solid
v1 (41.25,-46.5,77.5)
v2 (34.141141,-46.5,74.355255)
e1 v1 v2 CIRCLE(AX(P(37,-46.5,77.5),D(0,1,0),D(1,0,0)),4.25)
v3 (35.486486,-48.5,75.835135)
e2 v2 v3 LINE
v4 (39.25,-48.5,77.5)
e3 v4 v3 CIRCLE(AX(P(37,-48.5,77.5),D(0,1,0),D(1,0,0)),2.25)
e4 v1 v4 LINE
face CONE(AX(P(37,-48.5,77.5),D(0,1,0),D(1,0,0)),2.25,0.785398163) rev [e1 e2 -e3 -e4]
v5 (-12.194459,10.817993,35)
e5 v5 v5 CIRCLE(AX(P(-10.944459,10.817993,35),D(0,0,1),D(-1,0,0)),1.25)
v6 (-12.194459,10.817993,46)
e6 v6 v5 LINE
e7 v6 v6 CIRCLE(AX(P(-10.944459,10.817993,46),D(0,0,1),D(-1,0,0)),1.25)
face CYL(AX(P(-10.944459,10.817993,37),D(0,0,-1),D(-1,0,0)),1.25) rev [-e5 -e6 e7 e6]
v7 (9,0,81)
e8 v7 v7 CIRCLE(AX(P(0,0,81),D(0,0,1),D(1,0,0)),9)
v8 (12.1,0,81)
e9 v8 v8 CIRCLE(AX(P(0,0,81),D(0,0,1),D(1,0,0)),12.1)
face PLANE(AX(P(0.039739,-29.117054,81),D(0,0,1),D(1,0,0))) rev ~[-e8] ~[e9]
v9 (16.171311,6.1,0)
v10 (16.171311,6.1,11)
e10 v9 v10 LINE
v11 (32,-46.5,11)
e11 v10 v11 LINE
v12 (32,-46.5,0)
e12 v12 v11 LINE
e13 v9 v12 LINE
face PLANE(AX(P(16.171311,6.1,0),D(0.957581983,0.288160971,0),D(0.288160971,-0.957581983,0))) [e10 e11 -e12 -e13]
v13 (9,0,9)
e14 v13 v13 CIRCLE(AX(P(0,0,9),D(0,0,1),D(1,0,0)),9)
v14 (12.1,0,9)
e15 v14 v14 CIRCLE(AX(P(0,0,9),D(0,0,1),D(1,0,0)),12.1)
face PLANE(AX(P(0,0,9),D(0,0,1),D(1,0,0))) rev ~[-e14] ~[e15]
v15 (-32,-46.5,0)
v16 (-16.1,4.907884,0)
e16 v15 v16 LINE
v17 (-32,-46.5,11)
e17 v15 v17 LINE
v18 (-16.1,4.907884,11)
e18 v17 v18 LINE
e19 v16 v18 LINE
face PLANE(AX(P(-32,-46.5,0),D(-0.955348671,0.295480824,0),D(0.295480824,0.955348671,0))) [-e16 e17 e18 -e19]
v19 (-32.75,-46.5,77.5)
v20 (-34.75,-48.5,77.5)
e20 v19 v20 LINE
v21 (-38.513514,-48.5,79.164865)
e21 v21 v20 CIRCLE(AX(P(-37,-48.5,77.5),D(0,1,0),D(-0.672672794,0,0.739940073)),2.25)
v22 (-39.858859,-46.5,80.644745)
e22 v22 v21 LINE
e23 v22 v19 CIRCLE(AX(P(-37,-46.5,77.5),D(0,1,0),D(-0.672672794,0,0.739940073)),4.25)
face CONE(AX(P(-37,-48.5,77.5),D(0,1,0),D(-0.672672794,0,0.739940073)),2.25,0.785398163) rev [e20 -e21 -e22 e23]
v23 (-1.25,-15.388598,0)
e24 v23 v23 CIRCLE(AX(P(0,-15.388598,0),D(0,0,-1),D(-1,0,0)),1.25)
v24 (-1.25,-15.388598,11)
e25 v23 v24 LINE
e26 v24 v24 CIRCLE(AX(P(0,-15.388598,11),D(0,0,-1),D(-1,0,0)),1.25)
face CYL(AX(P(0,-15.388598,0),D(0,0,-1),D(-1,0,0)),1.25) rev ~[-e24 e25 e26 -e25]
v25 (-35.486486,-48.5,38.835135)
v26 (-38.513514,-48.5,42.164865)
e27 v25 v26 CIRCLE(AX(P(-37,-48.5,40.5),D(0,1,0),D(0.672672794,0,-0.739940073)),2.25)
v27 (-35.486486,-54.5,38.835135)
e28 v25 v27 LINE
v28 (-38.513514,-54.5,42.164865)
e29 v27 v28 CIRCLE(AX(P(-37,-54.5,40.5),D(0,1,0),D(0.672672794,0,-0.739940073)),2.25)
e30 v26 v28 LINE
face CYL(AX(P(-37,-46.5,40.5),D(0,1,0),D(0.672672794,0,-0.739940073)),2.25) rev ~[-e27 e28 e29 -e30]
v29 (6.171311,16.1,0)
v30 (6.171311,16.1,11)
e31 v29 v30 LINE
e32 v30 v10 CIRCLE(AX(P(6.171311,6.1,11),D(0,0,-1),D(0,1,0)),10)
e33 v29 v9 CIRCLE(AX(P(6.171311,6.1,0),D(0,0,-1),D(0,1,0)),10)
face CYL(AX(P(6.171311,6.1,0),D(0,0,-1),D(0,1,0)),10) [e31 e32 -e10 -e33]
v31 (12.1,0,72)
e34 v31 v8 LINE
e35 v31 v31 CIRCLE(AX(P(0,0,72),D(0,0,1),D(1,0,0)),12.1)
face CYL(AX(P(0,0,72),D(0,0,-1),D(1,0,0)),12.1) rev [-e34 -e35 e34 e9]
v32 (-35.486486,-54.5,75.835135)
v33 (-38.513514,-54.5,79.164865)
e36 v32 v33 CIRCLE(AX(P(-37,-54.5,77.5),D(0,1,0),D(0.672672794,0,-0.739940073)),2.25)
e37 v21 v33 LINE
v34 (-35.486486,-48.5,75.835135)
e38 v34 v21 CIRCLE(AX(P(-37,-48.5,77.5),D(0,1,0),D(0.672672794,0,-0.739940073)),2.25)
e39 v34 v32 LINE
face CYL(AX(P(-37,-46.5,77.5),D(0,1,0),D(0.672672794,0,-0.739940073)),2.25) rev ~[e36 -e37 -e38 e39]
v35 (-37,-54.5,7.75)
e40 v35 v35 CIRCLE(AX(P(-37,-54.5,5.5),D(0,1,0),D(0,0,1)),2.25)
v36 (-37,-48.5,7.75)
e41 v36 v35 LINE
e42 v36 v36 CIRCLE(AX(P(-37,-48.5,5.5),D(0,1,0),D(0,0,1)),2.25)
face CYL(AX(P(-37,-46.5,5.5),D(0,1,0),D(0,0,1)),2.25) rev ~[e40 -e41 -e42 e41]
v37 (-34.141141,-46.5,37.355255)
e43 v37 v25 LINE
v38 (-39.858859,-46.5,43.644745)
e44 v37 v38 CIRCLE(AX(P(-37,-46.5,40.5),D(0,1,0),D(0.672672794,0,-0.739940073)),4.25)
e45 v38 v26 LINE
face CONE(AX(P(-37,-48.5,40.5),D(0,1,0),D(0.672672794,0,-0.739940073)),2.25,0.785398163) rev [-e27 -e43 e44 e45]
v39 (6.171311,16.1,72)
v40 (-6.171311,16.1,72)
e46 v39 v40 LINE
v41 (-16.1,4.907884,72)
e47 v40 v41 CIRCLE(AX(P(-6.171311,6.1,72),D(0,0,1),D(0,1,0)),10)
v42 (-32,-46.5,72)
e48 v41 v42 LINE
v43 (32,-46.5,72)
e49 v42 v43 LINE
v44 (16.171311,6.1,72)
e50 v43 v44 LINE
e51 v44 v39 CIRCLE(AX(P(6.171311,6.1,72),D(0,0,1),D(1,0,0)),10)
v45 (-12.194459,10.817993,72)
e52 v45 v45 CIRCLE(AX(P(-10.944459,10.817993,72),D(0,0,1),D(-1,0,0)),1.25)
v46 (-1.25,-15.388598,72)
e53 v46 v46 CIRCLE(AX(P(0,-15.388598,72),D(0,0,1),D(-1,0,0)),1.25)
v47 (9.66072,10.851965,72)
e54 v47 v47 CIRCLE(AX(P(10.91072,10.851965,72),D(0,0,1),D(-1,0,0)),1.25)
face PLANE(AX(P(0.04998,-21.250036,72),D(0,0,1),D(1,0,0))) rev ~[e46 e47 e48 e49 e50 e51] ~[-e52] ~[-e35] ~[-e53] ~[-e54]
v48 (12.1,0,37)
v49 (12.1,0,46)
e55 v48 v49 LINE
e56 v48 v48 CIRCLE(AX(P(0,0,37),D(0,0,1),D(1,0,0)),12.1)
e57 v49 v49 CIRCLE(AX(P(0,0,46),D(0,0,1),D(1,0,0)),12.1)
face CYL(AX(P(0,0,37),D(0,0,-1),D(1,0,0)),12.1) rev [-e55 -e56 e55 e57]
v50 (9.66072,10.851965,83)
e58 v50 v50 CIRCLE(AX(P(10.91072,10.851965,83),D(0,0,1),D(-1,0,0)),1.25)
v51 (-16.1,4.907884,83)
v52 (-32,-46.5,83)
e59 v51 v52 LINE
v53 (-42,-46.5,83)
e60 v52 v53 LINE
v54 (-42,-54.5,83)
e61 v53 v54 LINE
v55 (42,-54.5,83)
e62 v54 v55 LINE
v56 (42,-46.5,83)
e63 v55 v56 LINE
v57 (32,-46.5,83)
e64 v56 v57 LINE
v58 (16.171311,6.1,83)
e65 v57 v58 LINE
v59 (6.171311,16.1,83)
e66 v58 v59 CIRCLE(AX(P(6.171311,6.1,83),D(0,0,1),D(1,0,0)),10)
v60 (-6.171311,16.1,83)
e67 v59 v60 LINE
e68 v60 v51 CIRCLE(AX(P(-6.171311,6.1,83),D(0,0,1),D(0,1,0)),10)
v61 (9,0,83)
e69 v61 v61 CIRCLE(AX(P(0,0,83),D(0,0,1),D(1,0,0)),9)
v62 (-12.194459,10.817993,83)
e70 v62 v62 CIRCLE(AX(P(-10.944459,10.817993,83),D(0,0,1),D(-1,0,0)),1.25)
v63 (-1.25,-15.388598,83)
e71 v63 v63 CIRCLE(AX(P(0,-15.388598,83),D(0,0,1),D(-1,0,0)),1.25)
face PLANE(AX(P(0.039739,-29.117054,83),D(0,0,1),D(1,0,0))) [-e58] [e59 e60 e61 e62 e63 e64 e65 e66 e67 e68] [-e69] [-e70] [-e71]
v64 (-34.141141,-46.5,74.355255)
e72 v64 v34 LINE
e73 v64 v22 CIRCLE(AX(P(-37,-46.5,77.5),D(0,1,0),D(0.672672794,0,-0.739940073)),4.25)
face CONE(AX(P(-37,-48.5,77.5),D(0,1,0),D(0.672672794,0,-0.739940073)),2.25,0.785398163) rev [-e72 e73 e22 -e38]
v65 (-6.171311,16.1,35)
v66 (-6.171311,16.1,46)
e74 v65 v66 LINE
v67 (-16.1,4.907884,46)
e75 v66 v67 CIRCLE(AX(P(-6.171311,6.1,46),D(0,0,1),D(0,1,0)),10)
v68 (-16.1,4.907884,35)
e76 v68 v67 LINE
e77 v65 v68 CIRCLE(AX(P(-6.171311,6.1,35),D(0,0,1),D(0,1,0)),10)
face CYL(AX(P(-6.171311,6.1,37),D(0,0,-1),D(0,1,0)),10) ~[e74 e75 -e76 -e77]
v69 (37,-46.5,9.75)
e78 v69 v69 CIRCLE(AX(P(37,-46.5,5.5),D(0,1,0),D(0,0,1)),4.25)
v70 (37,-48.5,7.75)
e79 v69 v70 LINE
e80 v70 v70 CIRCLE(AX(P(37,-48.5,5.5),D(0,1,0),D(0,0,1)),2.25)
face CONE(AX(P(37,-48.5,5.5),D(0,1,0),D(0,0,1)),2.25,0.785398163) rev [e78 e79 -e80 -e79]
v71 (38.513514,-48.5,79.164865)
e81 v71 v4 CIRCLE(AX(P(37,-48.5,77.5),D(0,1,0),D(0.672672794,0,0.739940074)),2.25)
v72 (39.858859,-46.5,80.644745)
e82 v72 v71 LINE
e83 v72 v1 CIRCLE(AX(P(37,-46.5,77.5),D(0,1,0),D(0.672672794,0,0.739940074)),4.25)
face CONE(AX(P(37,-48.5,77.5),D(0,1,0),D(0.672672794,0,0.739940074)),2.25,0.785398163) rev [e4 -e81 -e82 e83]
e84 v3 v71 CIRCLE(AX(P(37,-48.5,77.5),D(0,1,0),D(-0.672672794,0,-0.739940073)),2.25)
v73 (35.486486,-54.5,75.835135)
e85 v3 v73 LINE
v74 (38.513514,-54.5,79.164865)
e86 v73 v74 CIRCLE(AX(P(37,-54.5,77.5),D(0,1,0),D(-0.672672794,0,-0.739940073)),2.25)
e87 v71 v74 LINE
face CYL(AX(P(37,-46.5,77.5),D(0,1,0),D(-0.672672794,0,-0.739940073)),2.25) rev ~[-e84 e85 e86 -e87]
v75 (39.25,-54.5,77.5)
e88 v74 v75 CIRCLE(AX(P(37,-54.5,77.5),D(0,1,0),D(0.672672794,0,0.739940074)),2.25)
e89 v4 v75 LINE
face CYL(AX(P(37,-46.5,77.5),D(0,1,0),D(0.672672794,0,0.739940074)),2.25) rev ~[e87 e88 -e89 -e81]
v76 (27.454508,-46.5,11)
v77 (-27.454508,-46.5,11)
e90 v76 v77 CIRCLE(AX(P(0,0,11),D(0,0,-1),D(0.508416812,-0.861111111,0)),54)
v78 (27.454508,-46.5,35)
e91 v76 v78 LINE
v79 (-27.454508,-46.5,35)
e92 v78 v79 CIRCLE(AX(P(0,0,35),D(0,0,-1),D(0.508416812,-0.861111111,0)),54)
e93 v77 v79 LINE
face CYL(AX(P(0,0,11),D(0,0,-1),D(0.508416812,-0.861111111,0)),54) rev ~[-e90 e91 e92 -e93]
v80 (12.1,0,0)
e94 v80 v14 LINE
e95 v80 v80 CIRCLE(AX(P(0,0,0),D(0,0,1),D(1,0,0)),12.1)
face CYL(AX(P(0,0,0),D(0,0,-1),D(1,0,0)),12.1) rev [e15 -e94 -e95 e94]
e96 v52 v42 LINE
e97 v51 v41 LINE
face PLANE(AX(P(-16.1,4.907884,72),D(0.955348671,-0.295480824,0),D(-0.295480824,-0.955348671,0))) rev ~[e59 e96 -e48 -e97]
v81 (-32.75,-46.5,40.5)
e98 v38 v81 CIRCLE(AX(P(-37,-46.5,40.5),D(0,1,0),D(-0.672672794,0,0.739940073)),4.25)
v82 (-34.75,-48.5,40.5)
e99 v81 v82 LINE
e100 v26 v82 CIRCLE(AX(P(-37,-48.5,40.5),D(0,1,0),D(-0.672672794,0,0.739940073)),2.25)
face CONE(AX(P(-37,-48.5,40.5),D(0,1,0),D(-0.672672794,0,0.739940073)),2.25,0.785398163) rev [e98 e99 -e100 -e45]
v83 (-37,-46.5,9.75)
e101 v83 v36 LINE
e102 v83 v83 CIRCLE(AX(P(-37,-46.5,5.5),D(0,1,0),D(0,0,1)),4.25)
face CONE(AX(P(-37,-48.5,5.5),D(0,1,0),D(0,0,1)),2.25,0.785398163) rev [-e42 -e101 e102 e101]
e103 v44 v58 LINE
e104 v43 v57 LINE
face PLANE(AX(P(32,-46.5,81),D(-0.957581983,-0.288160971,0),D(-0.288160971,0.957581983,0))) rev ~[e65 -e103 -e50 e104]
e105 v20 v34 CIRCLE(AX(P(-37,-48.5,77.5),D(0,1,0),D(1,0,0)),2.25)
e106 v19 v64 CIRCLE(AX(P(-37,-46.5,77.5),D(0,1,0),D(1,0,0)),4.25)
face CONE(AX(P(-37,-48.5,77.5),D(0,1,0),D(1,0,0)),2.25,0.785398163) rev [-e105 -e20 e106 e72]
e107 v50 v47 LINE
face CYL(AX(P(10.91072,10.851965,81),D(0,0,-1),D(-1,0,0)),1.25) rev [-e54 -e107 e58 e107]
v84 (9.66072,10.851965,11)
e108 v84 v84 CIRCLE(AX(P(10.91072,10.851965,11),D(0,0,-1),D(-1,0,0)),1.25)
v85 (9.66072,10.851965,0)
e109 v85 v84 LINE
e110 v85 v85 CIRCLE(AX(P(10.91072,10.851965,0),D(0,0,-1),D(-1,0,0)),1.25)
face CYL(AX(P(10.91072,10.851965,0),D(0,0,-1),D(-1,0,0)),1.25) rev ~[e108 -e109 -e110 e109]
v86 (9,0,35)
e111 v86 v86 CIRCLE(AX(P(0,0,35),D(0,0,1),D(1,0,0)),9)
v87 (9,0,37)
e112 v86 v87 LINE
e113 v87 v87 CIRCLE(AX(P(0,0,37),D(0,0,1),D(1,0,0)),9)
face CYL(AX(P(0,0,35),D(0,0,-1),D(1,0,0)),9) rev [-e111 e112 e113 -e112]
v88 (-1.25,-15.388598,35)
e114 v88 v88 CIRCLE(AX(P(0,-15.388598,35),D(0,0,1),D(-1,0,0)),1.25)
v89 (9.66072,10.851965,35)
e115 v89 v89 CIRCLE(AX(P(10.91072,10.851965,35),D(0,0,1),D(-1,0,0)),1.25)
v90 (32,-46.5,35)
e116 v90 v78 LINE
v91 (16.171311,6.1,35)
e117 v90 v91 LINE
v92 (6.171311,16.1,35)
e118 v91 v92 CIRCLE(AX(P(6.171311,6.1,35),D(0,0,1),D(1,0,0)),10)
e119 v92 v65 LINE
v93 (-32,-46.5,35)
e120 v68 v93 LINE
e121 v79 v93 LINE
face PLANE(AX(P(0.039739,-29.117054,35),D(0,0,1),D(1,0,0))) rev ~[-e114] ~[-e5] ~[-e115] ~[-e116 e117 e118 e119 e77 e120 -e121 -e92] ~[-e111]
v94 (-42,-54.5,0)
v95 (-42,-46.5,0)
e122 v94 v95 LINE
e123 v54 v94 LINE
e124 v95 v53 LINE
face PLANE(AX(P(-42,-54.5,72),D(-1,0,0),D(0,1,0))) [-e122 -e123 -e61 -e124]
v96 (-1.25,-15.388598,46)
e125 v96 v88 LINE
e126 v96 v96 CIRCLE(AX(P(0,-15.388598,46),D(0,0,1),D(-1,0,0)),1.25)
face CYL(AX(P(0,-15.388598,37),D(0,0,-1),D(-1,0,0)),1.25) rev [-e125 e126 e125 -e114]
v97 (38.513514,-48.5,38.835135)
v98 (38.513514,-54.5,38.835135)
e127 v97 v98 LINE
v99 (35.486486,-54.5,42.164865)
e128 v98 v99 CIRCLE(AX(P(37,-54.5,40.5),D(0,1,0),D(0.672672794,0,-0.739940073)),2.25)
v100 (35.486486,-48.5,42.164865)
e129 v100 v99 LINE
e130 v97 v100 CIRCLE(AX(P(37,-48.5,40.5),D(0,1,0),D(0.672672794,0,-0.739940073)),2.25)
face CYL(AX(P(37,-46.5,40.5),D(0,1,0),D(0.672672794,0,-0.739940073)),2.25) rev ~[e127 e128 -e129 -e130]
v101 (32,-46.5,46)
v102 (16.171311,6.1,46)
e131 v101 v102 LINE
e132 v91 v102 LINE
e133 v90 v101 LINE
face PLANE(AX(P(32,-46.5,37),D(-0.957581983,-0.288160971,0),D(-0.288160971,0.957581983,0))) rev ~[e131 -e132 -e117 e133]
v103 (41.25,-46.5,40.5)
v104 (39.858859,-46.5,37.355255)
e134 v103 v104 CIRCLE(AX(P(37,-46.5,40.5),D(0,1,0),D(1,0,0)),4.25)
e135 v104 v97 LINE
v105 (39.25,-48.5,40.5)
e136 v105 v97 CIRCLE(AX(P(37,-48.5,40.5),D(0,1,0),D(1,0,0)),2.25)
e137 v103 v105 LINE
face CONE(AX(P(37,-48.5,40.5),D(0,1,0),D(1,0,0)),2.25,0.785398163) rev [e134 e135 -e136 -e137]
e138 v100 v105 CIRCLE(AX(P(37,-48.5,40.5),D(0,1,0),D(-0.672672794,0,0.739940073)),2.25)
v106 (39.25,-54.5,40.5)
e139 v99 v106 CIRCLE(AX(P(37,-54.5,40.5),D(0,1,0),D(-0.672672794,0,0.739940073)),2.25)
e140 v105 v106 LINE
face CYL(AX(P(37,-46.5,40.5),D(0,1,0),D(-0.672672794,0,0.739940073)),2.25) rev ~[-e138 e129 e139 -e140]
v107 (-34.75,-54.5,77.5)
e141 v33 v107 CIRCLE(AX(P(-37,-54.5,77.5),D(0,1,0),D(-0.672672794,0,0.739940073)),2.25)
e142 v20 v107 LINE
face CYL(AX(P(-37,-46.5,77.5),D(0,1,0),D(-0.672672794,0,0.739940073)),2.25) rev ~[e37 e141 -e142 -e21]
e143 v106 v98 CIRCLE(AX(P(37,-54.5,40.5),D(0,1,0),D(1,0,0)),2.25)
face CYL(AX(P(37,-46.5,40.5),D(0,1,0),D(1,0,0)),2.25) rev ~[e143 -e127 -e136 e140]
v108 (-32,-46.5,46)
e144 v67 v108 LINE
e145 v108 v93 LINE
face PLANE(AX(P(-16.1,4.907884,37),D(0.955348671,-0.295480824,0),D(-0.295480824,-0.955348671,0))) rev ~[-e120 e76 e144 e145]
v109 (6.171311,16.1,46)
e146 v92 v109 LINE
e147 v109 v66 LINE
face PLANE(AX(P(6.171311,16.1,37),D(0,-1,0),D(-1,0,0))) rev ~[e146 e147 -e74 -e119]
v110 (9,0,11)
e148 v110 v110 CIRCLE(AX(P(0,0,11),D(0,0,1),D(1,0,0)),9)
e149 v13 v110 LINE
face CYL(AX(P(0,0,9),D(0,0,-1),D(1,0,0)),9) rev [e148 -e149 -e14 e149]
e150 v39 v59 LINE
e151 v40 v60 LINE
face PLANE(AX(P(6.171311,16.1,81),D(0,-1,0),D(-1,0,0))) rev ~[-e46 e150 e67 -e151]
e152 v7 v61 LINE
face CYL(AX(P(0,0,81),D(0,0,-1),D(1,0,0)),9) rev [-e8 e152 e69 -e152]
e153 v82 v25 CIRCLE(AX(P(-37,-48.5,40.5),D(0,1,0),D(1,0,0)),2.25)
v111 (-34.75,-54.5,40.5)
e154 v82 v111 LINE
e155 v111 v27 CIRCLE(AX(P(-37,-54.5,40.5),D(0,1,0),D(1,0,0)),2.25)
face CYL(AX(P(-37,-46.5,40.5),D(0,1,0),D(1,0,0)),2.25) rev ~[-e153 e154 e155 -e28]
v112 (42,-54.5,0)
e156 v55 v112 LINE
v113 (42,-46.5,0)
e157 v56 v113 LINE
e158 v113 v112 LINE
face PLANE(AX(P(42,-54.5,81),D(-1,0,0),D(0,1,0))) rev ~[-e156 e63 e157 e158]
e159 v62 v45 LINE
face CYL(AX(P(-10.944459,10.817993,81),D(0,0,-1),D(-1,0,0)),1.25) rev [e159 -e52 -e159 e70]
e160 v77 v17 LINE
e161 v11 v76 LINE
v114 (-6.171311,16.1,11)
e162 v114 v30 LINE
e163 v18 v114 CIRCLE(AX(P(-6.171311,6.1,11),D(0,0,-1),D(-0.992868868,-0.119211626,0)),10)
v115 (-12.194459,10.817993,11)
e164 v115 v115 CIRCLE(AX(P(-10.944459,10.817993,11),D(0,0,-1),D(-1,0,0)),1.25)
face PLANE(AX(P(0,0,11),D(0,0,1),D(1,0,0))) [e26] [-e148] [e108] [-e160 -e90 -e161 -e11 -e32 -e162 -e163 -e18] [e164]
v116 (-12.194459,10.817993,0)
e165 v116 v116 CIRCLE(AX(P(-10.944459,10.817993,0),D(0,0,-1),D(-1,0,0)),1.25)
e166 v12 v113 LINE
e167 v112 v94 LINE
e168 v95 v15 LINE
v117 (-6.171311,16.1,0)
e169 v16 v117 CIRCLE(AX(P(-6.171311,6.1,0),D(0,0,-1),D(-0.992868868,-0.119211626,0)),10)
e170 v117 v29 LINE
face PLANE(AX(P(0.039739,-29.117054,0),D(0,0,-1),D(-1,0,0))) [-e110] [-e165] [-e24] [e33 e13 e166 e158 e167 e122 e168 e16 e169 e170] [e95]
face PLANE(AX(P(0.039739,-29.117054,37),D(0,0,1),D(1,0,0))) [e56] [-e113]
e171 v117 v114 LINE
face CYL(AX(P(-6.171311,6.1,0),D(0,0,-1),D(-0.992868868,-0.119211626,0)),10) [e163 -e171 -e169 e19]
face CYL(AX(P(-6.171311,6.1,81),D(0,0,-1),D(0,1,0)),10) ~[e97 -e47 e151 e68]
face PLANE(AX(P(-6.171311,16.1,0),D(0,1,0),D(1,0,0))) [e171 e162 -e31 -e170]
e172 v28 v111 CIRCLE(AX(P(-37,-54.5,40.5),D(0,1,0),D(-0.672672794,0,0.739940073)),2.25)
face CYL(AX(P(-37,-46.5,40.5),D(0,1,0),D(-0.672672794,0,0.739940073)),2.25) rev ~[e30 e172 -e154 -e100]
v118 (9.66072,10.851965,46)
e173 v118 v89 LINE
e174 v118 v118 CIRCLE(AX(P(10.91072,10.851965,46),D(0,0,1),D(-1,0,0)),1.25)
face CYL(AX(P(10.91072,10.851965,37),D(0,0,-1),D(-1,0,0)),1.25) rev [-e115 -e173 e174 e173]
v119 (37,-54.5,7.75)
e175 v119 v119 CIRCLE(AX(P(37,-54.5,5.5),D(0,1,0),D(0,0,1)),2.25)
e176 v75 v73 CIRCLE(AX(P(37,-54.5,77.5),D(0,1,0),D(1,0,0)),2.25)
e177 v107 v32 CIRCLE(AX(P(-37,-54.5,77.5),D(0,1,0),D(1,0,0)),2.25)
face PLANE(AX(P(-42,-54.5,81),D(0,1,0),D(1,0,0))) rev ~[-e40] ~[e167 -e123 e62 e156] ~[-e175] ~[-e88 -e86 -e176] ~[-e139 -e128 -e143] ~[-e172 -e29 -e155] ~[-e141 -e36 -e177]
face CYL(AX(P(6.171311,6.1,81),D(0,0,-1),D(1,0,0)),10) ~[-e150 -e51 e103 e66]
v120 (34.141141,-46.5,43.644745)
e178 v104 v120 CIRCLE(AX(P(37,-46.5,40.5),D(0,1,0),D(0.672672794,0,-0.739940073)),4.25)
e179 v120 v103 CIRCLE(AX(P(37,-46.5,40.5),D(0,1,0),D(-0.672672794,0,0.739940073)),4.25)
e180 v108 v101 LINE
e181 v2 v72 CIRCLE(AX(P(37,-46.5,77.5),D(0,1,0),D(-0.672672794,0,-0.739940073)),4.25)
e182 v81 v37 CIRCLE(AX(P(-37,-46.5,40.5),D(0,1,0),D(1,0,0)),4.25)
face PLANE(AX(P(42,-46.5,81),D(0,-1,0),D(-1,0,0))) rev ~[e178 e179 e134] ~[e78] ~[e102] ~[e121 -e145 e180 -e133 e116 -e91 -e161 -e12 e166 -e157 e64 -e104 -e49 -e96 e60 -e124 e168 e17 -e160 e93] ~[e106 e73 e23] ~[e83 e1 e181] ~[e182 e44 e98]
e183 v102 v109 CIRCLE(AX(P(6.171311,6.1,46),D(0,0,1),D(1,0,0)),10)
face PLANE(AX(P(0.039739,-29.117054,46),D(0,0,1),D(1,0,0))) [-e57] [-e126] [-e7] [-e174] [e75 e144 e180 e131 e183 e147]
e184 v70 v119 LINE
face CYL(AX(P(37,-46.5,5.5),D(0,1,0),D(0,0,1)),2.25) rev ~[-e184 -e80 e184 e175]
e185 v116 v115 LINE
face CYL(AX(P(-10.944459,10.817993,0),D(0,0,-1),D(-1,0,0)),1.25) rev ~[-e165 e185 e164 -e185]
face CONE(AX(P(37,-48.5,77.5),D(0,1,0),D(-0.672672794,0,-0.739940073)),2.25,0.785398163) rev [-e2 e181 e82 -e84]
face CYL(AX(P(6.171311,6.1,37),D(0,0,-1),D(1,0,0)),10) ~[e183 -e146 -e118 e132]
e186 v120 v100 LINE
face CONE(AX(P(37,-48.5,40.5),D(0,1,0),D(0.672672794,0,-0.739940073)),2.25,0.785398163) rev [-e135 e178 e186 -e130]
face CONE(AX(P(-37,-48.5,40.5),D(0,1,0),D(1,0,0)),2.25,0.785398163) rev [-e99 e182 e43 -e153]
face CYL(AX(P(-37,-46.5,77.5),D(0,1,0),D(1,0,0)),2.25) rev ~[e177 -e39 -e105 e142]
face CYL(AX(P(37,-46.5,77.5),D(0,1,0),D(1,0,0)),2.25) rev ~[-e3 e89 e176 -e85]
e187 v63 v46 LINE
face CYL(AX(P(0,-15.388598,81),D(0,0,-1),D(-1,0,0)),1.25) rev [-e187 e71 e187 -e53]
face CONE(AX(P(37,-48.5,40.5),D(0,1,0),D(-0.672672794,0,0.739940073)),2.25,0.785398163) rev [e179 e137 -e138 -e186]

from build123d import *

# Parameters (mm, degrees)
SCHIZZO1_R                    = 12.1
ESTRUSIONE_ESTRUSIONE1_DEPTH  = 11
ESTRUSIONE_ESTRUSIONE2_START  = -2
SCHIZZO2_R                    = 12.1
SCHIZZO2_R_2                  = 9
ESTRUSIONE_ESTRUSIONE2_DEPTH  = 2
SCHIZZO3_R                    = 2.25
TAGLIO_ESTRUSIONE1_DEPTH      = 77.182412669
SMUSSO1_SIZE                  = 2
SCHIZZO4_R                    = 1.25
TAGLIO_ESTRUSIONE2_DEPTH      = 70.679623994
ESTRUSIONE_ESTRUSIONE4_DEPTH  = 24
SCHIZZO7_R                    = 1.25
SCHIZZO7_R_2                  = 9
ESTRUSIONE_ESTRUSIONE5_DEPTH  = 2
SCHIZZO8_R                    = 12.1
SCHIZZO8_R_2                  = 1.25
ESTRUSIONE_ESTRUSIONE6_DEPTH  = 9
SCHIZZO10_W                   = 84
SCHIZZO10_H                   = 8
ESTRUSIONE_ESTRUSIONE8_DEPTH  = 26
SCHIZZO11_W                   = 84
SCHIZZO11_H                   = 8
SCHIZZO11_R                   = 1.25
SCHIZZO11_R_2                 = 12.1
ESTRUSIONE_ESTRUSIONE9_DEPTH  = 9
SCHIZZO12_R                   = 1.25
SCHIZZO12_R_2                 = 9
ESTRUSIONE_ESTRUSIONE10_DEPTH = 2
TAGLIO_ESTRUSIONE3_DEPTH      = 113.123860083
SMUSSO2_SIZE                  = 2


with BuildPart() as part:
    # Schizzo1 → Estrusione-Estrusione1 (new body)
    with BuildSketch(Plane.XY):
        with BuildLine():
            Line((-6.171311325, 16.1), (6.171311325, 16.1))
            ThreePointArc((6.171311325, 16.1), (13.242379137, 13.171067812), (16.171311325, 6.1))
            Line((16.171311325, 6.1), (32, -46.5))
            Line((32, -46.5), (42, -46.5))
            Line((42, -46.5), (42, -54.5))
            Line((42, -54.5), (17, -54.5))
            Line((17, -54.5), (-17, -54.5))
            Line((-17, -54.5), (-42, -54.5))
            Line((-42, -54.5), (-42, -46.5))
            Line((-42, -46.5), (-32, -46.5))
            Line((-32, -46.5), (-16.1, 4.907883736))
            ThreePointArc((-16.1, 4.907883736), (-13.651991863, 12.73622021), (-6.171311325, 16.1))
        make_face()
        Circle(SCHIZZO1_R, mode=Mode.SUBTRACT)
    extrude(amount=ESTRUSIONE_ESTRUSIONE1_DEPTH)

    # Schizzo2 → Estrusione-Estrusione2 (add)
    with BuildSketch(Plane.XY.offset(11).offset(ESTRUSIONE_ESTRUSIONE2_START)):
        Circle(SCHIZZO2_R)
        Circle(SCHIZZO2_R_2, mode=Mode.SUBTRACT)
    extrude(amount=ESTRUSIONE_ESTRUSIONE2_DEPTH)

    # Schizzo3 → Taglio-Estrusione1 (cut, through all)
    with BuildSketch(Plane(origin=(0, -46.5, 0), x_dir=(1, 0, 0), z_dir=(0, 1, 0))):
        with Locations(Location((37, -5.5, 0), (0, 0, 270))):
            Circle(SCHIZZO3_R)
        with Locations(Location((-37, -5.5, 0), (0, 0, 270))):
            Circle(SCHIZZO3_R)
    extrude(amount=-TAGLIO_ESTRUSIONE1_DEPTH, mode=Mode.SUBTRACT)

    # Smusso1
    smusso1_edges = [part.edges().sort_by_distance(p)[0] for p in [
        (37, -46.5, 3.25),
        (-37, -46.5, 3.25),
    ]]
    chamfer(smusso1_edges, length=SMUSSO1_SIZE)

    # Schizzo4 → Taglio-Estrusione2 (cut, through all)
    with BuildSketch(Plane(origin=(0, 0, 0), x_dir=(-1, 0, 0), z_dir=(0, 0, -1))):
        with Locations((-10.910719744, 10.851964601)):
            Circle(SCHIZZO4_R)
        with Locations((10.944459062, 10.817992606)):
            Circle(SCHIZZO4_R)
        with Locations((0, -15.38859776)):
            Circle(SCHIZZO4_R)
    extrude(amount=-TAGLIO_ESTRUSIONE2_DEPTH, mode=Mode.SUBTRACT)

    # Schizzo5 → Estrusione-Estrusione4 (add)
    with BuildSketch(Plane.XY.offset(11)):
        with BuildLine():
            Line((-32, -46.5), (-42, -46.5))
            Line((-42, -46.5), (-42, -54.5))
            Line((-42, -54.5), (42, -54.5))
            Line((42, -54.5), (42, -46.5))
            Line((42, -46.5), (32, -46.5))
            Line((32, -46.5), (27.454507827, -46.5))
            ThreePointArc((27.454507827, -46.5), (0, -54), (-27.454507827, -46.5))
            Line((-27.454507827, -46.5), (-32, -46.5))
        make_face()
    extrude(amount=ESTRUSIONE_ESTRUSIONE4_DEPTH)

    # Schizzo7 → Estrusione-Estrusione5 (add)
    with BuildSketch(Plane.XY.offset(35)):
        with BuildLine():
            Line((42, -54.5), (42, -46.5))
            Line((42, -46.5), (32, -46.5))
            Line((32, -46.5), (16.171311325, 6.1))
            ThreePointArc((16.171311325, 6.1), (13.242379137, 13.171067812), (6.171311325, 16.1))
            Line((6.171311325, 16.1), (-6.171311325, 16.1))
            ThreePointArc((-6.171311325, 16.1), (-13.651991863, 12.73622021), (-16.1, 4.907883736))
            Line((-16.1, 4.907883736), (-32, -46.5))
            Line((-32, -46.5), (-42, -46.5))
            Line((-42, -46.5), (-42, -54.5))
            Line((-42, -54.5), (42, -54.5))
        make_face()
        with Locations(Location((10.910719744, 10.851964601, 0), (0, 0, 180))):
            Circle(SCHIZZO7_R, mode=Mode.SUBTRACT)
        Circle(SCHIZZO7_R_2, mode=Mode.SUBTRACT)
        with Locations(Location((0, -15.38859776, 0), (0, 0, 180))):
            Circle(SCHIZZO7_R, mode=Mode.SUBTRACT)
        with Locations(Location((-10.944459062, 10.817992606, 0), (0, 0, 180))):
            Circle(SCHIZZO7_R, mode=Mode.SUBTRACT)
    extrude(amount=ESTRUSIONE_ESTRUSIONE5_DEPTH)

    # Schizzo8 → Estrusione-Estrusione6 (add)
    with BuildSketch(Plane.XY.offset(37)):
        with BuildLine():
            Line((42, -46.5), (32, -46.5))
            Line((32, -46.5), (16.171311325, 6.1))
            ThreePointArc((16.171311325, 6.1), (13.242379137, 13.171067812), (6.171311325, 16.1))
            Line((6.171311325, 16.1), (-6.171311325, 16.1))
            ThreePointArc((-6.171311325, 16.1), (-13.651991863, 12.73622021), (-16.1, 4.907883736))
            Line((-16.1, 4.907883736), (-32, -46.5))
            Line((-32, -46.5), (-42, -46.5))
            Line((-42, -46.5), (-42, -54.5))
            Line((-42, -54.5), (42, -54.5))
            Line((42, -54.5), (42, -46.5))
        make_face()
        Circle(SCHIZZO8_R, mode=Mode.SUBTRACT)
        with Locations(Location((10.910719744, 10.851964601, 0), (0, 0, 180))):
            Circle(SCHIZZO8_R_2, mode=Mode.SUBTRACT)
        with Locations(Location((0, -15.38859776, 0), (0, 0, 180))):
            Circle(SCHIZZO8_R_2, mode=Mode.SUBTRACT)
        with Locations(Location((-10.944459062, 10.817992606, 0), (0, 0, 180))):
            Circle(SCHIZZO8_R_2, mode=Mode.SUBTRACT)
    extrude(amount=ESTRUSIONE_ESTRUSIONE6_DEPTH)

    # Schizzo10 → Estrusione-Estrusione8 (add)
    with BuildSketch(Plane.XY.offset(46)):
        with Locations((0, -50.5)):
            Rectangle(SCHIZZO10_W, SCHIZZO10_H)
    extrude(amount=ESTRUSIONE_ESTRUSIONE8_DEPTH)

    # Schizzo11 → Estrusione-Estrusione9 (add)
    # profile 1 of 2: a face of its own
    with BuildSketch(Plane.XY.offset(72)):
        with Locations((0, -50.5)):
            Rectangle(SCHIZZO11_W, SCHIZZO11_H)
    # profile 2 of 2: a face of its own
    with BuildSketch(Plane.XY.offset(72)):
        with BuildLine():
            Line((-16.1, 4.907883736), (-32, -46.5))
            Line((-32, -46.5), (32, -46.5))
            Line((32, -46.5), (16.171311325, 6.1))
            ThreePointArc((16.171311325, 6.1), (13.242379137, 13.171067812), (6.171311325, 16.1))
            Line((6.171311325, 16.1), (-6.171311325, 16.1))
            ThreePointArc((-6.171311325, 16.1), (-13.651991863, 12.73622021), (-16.1, 4.907883736))
        make_face()
        with Locations(Location((-10.944459062, 10.817992606, 0), (0, 0, 180))):
            Circle(SCHIZZO11_R, mode=Mode.SUBTRACT)
        with Locations(Location((0, -15.38859776, 0), (0, 0, 180))):
            Circle(SCHIZZO11_R, mode=Mode.SUBTRACT)
        Circle(SCHIZZO11_R_2, mode=Mode.SUBTRACT)
        with Locations(Location((10.910719744, 10.851964601, 0), (0, 0, 180))):
            Circle(SCHIZZO11_R, mode=Mode.SUBTRACT)
    extrude(amount=ESTRUSIONE_ESTRUSIONE9_DEPTH)

    # Schizzo12 → Estrusione-Estrusione10 (add)
    with BuildSketch(Plane.XY.offset(81)):
        with BuildLine():
            Line((42, -46.5), (32, -46.5))
            Line((32, -46.5), (16.171311325, 6.1))
            ThreePointArc((16.171311325, 6.1), (13.242379137, 13.171067812), (6.171311325, 16.1))
            Line((6.171311325, 16.1), (-6.171311325, 16.1))
            ThreePointArc((-6.171311325, 16.1), (-13.651991863, 12.73622021), (-16.1, 4.907883736))
            Line((-16.1, 4.907883736), (-32, -46.5))
            Line((-32, -46.5), (-42, -46.5))
            Line((-42, -46.5), (-42, -54.5))
            Line((-42, -54.5), (42, -54.5))
            Line((42, -54.5), (42, -46.5))
        make_face()
        with Locations(Location((-10.944459062, 10.817992606, 0), (0, 0, 180))):
            Circle(SCHIZZO12_R, mode=Mode.SUBTRACT)
        with Locations(Location((0, -15.38859776, 0), (0, 0, 180))):
            Circle(SCHIZZO12_R, mode=Mode.SUBTRACT)
        with Locations(Location((10.910719744, 10.851964601, 0), (0, 0, 180))):
            Circle(SCHIZZO12_R, mode=Mode.SUBTRACT)
        Circle(SCHIZZO12_R_2, mode=Mode.SUBTRACT)
    extrude(amount=ESTRUSIONE_ESTRUSIONE10_DEPTH)

    # Schizzo13 → Taglio-Estrusione3 (cut, through all)
    with BuildSketch(Plane(origin=(0, -46.5, 0), x_dir=(1, 0, 0), z_dir=(0, 1, 0))):
        with BuildLine():
            ThreePointArc((38.513513786, -38.835134835), (35.335134835, -38.986486214), (35.486486214, -42.164865165))
            Line((35.486486214, -42.164865165), (38.513513786, -38.835134835))
        make_face()
        with BuildLine():
            Line((38.513513786, -38.835134835), (35.486486214, -42.164865165))
            ThreePointArc((35.486486214, -42.164865165), (37.910245566, -42.557657165), (39.25, -40.5))
            ThreePointArc((39.25, -40.5), (39.057657165, -39.589754434), (38.513513786, -38.835134835))
        make_face()
        with BuildLine():
            ThreePointArc((-34.75, -40.5), (-34.942342835, -39.589754434), (-35.486486214, -38.835134835))
            Line((-35.486486214, -38.835134835), (-38.513513786, -42.164865165))
            ThreePointArc((-38.513513786, -42.164865165), (-36.089754434, -42.557657165), (-34.75, -40.5))
        make_face()
        with BuildLine():
            Line((-38.513513786, -42.164865165), (-35.486486214, -38.835134835))
            ThreePointArc((-35.486486214, -38.835134835), (-38.664865165, -38.986486214), (-38.513513786, -42.164865165))
        make_face()
        with BuildLine():
            ThreePointArc((-34.75, -77.5), (-34.942342835, -76.589754434), (-35.486486214, -75.835134835))
            Line((-35.486486214, -75.835134835), (-38.513513786, -79.164865165))
            ThreePointArc((-38.513513786, -79.164865165), (-36.089754434, -79.557657165), (-34.75, -77.5))
        make_face()
        with BuildLine():
            Line((-38.513513786, -79.164865165), (-35.486486214, -75.835134835))
            ThreePointArc((-35.486486214, -75.835134835), (-38.664865165, -75.986486214), (-38.513513786, -79.164865165))
        make_face()
        with BuildLine():
            ThreePointArc((39.25, -77.5), (37.910245566, -75.442342835), (35.486486214, -75.835134835))
            Line((35.486486214, -75.835134835), (38.513513786, -79.164865165))
            ThreePointArc((38.513513786, -79.164865165), (39.057657165, -78.410245566), (39.25, -77.5))
        make_face()
        with BuildLine():
            Line((38.513513786, -79.164865165), (35.486486214, -75.835134835))
            ThreePointArc((35.486486214, -75.835134835), (35.335134835, -79.013513786), (38.513513786, -79.164865165))
        make_face()
    extrude(amount=-TAGLIO_ESTRUSIONE3_DEPTH, mode=Mode.SUBTRACT)

    # Smusso2
    smusso2_edges = [part.edges().sort_by_distance(p)[0] for p in [
        (35.486486214, -46.5, 75.835134835),
        (-35.486486214, -46.5, 75.835134835),
        (-35.486486214, -46.5, 38.835134835),
        (38.513513786, -46.5, 38.835134835),
    ]]
    chamfer(smusso2_edges, length=SMUSSO2_SIZE)


solid = part.part
